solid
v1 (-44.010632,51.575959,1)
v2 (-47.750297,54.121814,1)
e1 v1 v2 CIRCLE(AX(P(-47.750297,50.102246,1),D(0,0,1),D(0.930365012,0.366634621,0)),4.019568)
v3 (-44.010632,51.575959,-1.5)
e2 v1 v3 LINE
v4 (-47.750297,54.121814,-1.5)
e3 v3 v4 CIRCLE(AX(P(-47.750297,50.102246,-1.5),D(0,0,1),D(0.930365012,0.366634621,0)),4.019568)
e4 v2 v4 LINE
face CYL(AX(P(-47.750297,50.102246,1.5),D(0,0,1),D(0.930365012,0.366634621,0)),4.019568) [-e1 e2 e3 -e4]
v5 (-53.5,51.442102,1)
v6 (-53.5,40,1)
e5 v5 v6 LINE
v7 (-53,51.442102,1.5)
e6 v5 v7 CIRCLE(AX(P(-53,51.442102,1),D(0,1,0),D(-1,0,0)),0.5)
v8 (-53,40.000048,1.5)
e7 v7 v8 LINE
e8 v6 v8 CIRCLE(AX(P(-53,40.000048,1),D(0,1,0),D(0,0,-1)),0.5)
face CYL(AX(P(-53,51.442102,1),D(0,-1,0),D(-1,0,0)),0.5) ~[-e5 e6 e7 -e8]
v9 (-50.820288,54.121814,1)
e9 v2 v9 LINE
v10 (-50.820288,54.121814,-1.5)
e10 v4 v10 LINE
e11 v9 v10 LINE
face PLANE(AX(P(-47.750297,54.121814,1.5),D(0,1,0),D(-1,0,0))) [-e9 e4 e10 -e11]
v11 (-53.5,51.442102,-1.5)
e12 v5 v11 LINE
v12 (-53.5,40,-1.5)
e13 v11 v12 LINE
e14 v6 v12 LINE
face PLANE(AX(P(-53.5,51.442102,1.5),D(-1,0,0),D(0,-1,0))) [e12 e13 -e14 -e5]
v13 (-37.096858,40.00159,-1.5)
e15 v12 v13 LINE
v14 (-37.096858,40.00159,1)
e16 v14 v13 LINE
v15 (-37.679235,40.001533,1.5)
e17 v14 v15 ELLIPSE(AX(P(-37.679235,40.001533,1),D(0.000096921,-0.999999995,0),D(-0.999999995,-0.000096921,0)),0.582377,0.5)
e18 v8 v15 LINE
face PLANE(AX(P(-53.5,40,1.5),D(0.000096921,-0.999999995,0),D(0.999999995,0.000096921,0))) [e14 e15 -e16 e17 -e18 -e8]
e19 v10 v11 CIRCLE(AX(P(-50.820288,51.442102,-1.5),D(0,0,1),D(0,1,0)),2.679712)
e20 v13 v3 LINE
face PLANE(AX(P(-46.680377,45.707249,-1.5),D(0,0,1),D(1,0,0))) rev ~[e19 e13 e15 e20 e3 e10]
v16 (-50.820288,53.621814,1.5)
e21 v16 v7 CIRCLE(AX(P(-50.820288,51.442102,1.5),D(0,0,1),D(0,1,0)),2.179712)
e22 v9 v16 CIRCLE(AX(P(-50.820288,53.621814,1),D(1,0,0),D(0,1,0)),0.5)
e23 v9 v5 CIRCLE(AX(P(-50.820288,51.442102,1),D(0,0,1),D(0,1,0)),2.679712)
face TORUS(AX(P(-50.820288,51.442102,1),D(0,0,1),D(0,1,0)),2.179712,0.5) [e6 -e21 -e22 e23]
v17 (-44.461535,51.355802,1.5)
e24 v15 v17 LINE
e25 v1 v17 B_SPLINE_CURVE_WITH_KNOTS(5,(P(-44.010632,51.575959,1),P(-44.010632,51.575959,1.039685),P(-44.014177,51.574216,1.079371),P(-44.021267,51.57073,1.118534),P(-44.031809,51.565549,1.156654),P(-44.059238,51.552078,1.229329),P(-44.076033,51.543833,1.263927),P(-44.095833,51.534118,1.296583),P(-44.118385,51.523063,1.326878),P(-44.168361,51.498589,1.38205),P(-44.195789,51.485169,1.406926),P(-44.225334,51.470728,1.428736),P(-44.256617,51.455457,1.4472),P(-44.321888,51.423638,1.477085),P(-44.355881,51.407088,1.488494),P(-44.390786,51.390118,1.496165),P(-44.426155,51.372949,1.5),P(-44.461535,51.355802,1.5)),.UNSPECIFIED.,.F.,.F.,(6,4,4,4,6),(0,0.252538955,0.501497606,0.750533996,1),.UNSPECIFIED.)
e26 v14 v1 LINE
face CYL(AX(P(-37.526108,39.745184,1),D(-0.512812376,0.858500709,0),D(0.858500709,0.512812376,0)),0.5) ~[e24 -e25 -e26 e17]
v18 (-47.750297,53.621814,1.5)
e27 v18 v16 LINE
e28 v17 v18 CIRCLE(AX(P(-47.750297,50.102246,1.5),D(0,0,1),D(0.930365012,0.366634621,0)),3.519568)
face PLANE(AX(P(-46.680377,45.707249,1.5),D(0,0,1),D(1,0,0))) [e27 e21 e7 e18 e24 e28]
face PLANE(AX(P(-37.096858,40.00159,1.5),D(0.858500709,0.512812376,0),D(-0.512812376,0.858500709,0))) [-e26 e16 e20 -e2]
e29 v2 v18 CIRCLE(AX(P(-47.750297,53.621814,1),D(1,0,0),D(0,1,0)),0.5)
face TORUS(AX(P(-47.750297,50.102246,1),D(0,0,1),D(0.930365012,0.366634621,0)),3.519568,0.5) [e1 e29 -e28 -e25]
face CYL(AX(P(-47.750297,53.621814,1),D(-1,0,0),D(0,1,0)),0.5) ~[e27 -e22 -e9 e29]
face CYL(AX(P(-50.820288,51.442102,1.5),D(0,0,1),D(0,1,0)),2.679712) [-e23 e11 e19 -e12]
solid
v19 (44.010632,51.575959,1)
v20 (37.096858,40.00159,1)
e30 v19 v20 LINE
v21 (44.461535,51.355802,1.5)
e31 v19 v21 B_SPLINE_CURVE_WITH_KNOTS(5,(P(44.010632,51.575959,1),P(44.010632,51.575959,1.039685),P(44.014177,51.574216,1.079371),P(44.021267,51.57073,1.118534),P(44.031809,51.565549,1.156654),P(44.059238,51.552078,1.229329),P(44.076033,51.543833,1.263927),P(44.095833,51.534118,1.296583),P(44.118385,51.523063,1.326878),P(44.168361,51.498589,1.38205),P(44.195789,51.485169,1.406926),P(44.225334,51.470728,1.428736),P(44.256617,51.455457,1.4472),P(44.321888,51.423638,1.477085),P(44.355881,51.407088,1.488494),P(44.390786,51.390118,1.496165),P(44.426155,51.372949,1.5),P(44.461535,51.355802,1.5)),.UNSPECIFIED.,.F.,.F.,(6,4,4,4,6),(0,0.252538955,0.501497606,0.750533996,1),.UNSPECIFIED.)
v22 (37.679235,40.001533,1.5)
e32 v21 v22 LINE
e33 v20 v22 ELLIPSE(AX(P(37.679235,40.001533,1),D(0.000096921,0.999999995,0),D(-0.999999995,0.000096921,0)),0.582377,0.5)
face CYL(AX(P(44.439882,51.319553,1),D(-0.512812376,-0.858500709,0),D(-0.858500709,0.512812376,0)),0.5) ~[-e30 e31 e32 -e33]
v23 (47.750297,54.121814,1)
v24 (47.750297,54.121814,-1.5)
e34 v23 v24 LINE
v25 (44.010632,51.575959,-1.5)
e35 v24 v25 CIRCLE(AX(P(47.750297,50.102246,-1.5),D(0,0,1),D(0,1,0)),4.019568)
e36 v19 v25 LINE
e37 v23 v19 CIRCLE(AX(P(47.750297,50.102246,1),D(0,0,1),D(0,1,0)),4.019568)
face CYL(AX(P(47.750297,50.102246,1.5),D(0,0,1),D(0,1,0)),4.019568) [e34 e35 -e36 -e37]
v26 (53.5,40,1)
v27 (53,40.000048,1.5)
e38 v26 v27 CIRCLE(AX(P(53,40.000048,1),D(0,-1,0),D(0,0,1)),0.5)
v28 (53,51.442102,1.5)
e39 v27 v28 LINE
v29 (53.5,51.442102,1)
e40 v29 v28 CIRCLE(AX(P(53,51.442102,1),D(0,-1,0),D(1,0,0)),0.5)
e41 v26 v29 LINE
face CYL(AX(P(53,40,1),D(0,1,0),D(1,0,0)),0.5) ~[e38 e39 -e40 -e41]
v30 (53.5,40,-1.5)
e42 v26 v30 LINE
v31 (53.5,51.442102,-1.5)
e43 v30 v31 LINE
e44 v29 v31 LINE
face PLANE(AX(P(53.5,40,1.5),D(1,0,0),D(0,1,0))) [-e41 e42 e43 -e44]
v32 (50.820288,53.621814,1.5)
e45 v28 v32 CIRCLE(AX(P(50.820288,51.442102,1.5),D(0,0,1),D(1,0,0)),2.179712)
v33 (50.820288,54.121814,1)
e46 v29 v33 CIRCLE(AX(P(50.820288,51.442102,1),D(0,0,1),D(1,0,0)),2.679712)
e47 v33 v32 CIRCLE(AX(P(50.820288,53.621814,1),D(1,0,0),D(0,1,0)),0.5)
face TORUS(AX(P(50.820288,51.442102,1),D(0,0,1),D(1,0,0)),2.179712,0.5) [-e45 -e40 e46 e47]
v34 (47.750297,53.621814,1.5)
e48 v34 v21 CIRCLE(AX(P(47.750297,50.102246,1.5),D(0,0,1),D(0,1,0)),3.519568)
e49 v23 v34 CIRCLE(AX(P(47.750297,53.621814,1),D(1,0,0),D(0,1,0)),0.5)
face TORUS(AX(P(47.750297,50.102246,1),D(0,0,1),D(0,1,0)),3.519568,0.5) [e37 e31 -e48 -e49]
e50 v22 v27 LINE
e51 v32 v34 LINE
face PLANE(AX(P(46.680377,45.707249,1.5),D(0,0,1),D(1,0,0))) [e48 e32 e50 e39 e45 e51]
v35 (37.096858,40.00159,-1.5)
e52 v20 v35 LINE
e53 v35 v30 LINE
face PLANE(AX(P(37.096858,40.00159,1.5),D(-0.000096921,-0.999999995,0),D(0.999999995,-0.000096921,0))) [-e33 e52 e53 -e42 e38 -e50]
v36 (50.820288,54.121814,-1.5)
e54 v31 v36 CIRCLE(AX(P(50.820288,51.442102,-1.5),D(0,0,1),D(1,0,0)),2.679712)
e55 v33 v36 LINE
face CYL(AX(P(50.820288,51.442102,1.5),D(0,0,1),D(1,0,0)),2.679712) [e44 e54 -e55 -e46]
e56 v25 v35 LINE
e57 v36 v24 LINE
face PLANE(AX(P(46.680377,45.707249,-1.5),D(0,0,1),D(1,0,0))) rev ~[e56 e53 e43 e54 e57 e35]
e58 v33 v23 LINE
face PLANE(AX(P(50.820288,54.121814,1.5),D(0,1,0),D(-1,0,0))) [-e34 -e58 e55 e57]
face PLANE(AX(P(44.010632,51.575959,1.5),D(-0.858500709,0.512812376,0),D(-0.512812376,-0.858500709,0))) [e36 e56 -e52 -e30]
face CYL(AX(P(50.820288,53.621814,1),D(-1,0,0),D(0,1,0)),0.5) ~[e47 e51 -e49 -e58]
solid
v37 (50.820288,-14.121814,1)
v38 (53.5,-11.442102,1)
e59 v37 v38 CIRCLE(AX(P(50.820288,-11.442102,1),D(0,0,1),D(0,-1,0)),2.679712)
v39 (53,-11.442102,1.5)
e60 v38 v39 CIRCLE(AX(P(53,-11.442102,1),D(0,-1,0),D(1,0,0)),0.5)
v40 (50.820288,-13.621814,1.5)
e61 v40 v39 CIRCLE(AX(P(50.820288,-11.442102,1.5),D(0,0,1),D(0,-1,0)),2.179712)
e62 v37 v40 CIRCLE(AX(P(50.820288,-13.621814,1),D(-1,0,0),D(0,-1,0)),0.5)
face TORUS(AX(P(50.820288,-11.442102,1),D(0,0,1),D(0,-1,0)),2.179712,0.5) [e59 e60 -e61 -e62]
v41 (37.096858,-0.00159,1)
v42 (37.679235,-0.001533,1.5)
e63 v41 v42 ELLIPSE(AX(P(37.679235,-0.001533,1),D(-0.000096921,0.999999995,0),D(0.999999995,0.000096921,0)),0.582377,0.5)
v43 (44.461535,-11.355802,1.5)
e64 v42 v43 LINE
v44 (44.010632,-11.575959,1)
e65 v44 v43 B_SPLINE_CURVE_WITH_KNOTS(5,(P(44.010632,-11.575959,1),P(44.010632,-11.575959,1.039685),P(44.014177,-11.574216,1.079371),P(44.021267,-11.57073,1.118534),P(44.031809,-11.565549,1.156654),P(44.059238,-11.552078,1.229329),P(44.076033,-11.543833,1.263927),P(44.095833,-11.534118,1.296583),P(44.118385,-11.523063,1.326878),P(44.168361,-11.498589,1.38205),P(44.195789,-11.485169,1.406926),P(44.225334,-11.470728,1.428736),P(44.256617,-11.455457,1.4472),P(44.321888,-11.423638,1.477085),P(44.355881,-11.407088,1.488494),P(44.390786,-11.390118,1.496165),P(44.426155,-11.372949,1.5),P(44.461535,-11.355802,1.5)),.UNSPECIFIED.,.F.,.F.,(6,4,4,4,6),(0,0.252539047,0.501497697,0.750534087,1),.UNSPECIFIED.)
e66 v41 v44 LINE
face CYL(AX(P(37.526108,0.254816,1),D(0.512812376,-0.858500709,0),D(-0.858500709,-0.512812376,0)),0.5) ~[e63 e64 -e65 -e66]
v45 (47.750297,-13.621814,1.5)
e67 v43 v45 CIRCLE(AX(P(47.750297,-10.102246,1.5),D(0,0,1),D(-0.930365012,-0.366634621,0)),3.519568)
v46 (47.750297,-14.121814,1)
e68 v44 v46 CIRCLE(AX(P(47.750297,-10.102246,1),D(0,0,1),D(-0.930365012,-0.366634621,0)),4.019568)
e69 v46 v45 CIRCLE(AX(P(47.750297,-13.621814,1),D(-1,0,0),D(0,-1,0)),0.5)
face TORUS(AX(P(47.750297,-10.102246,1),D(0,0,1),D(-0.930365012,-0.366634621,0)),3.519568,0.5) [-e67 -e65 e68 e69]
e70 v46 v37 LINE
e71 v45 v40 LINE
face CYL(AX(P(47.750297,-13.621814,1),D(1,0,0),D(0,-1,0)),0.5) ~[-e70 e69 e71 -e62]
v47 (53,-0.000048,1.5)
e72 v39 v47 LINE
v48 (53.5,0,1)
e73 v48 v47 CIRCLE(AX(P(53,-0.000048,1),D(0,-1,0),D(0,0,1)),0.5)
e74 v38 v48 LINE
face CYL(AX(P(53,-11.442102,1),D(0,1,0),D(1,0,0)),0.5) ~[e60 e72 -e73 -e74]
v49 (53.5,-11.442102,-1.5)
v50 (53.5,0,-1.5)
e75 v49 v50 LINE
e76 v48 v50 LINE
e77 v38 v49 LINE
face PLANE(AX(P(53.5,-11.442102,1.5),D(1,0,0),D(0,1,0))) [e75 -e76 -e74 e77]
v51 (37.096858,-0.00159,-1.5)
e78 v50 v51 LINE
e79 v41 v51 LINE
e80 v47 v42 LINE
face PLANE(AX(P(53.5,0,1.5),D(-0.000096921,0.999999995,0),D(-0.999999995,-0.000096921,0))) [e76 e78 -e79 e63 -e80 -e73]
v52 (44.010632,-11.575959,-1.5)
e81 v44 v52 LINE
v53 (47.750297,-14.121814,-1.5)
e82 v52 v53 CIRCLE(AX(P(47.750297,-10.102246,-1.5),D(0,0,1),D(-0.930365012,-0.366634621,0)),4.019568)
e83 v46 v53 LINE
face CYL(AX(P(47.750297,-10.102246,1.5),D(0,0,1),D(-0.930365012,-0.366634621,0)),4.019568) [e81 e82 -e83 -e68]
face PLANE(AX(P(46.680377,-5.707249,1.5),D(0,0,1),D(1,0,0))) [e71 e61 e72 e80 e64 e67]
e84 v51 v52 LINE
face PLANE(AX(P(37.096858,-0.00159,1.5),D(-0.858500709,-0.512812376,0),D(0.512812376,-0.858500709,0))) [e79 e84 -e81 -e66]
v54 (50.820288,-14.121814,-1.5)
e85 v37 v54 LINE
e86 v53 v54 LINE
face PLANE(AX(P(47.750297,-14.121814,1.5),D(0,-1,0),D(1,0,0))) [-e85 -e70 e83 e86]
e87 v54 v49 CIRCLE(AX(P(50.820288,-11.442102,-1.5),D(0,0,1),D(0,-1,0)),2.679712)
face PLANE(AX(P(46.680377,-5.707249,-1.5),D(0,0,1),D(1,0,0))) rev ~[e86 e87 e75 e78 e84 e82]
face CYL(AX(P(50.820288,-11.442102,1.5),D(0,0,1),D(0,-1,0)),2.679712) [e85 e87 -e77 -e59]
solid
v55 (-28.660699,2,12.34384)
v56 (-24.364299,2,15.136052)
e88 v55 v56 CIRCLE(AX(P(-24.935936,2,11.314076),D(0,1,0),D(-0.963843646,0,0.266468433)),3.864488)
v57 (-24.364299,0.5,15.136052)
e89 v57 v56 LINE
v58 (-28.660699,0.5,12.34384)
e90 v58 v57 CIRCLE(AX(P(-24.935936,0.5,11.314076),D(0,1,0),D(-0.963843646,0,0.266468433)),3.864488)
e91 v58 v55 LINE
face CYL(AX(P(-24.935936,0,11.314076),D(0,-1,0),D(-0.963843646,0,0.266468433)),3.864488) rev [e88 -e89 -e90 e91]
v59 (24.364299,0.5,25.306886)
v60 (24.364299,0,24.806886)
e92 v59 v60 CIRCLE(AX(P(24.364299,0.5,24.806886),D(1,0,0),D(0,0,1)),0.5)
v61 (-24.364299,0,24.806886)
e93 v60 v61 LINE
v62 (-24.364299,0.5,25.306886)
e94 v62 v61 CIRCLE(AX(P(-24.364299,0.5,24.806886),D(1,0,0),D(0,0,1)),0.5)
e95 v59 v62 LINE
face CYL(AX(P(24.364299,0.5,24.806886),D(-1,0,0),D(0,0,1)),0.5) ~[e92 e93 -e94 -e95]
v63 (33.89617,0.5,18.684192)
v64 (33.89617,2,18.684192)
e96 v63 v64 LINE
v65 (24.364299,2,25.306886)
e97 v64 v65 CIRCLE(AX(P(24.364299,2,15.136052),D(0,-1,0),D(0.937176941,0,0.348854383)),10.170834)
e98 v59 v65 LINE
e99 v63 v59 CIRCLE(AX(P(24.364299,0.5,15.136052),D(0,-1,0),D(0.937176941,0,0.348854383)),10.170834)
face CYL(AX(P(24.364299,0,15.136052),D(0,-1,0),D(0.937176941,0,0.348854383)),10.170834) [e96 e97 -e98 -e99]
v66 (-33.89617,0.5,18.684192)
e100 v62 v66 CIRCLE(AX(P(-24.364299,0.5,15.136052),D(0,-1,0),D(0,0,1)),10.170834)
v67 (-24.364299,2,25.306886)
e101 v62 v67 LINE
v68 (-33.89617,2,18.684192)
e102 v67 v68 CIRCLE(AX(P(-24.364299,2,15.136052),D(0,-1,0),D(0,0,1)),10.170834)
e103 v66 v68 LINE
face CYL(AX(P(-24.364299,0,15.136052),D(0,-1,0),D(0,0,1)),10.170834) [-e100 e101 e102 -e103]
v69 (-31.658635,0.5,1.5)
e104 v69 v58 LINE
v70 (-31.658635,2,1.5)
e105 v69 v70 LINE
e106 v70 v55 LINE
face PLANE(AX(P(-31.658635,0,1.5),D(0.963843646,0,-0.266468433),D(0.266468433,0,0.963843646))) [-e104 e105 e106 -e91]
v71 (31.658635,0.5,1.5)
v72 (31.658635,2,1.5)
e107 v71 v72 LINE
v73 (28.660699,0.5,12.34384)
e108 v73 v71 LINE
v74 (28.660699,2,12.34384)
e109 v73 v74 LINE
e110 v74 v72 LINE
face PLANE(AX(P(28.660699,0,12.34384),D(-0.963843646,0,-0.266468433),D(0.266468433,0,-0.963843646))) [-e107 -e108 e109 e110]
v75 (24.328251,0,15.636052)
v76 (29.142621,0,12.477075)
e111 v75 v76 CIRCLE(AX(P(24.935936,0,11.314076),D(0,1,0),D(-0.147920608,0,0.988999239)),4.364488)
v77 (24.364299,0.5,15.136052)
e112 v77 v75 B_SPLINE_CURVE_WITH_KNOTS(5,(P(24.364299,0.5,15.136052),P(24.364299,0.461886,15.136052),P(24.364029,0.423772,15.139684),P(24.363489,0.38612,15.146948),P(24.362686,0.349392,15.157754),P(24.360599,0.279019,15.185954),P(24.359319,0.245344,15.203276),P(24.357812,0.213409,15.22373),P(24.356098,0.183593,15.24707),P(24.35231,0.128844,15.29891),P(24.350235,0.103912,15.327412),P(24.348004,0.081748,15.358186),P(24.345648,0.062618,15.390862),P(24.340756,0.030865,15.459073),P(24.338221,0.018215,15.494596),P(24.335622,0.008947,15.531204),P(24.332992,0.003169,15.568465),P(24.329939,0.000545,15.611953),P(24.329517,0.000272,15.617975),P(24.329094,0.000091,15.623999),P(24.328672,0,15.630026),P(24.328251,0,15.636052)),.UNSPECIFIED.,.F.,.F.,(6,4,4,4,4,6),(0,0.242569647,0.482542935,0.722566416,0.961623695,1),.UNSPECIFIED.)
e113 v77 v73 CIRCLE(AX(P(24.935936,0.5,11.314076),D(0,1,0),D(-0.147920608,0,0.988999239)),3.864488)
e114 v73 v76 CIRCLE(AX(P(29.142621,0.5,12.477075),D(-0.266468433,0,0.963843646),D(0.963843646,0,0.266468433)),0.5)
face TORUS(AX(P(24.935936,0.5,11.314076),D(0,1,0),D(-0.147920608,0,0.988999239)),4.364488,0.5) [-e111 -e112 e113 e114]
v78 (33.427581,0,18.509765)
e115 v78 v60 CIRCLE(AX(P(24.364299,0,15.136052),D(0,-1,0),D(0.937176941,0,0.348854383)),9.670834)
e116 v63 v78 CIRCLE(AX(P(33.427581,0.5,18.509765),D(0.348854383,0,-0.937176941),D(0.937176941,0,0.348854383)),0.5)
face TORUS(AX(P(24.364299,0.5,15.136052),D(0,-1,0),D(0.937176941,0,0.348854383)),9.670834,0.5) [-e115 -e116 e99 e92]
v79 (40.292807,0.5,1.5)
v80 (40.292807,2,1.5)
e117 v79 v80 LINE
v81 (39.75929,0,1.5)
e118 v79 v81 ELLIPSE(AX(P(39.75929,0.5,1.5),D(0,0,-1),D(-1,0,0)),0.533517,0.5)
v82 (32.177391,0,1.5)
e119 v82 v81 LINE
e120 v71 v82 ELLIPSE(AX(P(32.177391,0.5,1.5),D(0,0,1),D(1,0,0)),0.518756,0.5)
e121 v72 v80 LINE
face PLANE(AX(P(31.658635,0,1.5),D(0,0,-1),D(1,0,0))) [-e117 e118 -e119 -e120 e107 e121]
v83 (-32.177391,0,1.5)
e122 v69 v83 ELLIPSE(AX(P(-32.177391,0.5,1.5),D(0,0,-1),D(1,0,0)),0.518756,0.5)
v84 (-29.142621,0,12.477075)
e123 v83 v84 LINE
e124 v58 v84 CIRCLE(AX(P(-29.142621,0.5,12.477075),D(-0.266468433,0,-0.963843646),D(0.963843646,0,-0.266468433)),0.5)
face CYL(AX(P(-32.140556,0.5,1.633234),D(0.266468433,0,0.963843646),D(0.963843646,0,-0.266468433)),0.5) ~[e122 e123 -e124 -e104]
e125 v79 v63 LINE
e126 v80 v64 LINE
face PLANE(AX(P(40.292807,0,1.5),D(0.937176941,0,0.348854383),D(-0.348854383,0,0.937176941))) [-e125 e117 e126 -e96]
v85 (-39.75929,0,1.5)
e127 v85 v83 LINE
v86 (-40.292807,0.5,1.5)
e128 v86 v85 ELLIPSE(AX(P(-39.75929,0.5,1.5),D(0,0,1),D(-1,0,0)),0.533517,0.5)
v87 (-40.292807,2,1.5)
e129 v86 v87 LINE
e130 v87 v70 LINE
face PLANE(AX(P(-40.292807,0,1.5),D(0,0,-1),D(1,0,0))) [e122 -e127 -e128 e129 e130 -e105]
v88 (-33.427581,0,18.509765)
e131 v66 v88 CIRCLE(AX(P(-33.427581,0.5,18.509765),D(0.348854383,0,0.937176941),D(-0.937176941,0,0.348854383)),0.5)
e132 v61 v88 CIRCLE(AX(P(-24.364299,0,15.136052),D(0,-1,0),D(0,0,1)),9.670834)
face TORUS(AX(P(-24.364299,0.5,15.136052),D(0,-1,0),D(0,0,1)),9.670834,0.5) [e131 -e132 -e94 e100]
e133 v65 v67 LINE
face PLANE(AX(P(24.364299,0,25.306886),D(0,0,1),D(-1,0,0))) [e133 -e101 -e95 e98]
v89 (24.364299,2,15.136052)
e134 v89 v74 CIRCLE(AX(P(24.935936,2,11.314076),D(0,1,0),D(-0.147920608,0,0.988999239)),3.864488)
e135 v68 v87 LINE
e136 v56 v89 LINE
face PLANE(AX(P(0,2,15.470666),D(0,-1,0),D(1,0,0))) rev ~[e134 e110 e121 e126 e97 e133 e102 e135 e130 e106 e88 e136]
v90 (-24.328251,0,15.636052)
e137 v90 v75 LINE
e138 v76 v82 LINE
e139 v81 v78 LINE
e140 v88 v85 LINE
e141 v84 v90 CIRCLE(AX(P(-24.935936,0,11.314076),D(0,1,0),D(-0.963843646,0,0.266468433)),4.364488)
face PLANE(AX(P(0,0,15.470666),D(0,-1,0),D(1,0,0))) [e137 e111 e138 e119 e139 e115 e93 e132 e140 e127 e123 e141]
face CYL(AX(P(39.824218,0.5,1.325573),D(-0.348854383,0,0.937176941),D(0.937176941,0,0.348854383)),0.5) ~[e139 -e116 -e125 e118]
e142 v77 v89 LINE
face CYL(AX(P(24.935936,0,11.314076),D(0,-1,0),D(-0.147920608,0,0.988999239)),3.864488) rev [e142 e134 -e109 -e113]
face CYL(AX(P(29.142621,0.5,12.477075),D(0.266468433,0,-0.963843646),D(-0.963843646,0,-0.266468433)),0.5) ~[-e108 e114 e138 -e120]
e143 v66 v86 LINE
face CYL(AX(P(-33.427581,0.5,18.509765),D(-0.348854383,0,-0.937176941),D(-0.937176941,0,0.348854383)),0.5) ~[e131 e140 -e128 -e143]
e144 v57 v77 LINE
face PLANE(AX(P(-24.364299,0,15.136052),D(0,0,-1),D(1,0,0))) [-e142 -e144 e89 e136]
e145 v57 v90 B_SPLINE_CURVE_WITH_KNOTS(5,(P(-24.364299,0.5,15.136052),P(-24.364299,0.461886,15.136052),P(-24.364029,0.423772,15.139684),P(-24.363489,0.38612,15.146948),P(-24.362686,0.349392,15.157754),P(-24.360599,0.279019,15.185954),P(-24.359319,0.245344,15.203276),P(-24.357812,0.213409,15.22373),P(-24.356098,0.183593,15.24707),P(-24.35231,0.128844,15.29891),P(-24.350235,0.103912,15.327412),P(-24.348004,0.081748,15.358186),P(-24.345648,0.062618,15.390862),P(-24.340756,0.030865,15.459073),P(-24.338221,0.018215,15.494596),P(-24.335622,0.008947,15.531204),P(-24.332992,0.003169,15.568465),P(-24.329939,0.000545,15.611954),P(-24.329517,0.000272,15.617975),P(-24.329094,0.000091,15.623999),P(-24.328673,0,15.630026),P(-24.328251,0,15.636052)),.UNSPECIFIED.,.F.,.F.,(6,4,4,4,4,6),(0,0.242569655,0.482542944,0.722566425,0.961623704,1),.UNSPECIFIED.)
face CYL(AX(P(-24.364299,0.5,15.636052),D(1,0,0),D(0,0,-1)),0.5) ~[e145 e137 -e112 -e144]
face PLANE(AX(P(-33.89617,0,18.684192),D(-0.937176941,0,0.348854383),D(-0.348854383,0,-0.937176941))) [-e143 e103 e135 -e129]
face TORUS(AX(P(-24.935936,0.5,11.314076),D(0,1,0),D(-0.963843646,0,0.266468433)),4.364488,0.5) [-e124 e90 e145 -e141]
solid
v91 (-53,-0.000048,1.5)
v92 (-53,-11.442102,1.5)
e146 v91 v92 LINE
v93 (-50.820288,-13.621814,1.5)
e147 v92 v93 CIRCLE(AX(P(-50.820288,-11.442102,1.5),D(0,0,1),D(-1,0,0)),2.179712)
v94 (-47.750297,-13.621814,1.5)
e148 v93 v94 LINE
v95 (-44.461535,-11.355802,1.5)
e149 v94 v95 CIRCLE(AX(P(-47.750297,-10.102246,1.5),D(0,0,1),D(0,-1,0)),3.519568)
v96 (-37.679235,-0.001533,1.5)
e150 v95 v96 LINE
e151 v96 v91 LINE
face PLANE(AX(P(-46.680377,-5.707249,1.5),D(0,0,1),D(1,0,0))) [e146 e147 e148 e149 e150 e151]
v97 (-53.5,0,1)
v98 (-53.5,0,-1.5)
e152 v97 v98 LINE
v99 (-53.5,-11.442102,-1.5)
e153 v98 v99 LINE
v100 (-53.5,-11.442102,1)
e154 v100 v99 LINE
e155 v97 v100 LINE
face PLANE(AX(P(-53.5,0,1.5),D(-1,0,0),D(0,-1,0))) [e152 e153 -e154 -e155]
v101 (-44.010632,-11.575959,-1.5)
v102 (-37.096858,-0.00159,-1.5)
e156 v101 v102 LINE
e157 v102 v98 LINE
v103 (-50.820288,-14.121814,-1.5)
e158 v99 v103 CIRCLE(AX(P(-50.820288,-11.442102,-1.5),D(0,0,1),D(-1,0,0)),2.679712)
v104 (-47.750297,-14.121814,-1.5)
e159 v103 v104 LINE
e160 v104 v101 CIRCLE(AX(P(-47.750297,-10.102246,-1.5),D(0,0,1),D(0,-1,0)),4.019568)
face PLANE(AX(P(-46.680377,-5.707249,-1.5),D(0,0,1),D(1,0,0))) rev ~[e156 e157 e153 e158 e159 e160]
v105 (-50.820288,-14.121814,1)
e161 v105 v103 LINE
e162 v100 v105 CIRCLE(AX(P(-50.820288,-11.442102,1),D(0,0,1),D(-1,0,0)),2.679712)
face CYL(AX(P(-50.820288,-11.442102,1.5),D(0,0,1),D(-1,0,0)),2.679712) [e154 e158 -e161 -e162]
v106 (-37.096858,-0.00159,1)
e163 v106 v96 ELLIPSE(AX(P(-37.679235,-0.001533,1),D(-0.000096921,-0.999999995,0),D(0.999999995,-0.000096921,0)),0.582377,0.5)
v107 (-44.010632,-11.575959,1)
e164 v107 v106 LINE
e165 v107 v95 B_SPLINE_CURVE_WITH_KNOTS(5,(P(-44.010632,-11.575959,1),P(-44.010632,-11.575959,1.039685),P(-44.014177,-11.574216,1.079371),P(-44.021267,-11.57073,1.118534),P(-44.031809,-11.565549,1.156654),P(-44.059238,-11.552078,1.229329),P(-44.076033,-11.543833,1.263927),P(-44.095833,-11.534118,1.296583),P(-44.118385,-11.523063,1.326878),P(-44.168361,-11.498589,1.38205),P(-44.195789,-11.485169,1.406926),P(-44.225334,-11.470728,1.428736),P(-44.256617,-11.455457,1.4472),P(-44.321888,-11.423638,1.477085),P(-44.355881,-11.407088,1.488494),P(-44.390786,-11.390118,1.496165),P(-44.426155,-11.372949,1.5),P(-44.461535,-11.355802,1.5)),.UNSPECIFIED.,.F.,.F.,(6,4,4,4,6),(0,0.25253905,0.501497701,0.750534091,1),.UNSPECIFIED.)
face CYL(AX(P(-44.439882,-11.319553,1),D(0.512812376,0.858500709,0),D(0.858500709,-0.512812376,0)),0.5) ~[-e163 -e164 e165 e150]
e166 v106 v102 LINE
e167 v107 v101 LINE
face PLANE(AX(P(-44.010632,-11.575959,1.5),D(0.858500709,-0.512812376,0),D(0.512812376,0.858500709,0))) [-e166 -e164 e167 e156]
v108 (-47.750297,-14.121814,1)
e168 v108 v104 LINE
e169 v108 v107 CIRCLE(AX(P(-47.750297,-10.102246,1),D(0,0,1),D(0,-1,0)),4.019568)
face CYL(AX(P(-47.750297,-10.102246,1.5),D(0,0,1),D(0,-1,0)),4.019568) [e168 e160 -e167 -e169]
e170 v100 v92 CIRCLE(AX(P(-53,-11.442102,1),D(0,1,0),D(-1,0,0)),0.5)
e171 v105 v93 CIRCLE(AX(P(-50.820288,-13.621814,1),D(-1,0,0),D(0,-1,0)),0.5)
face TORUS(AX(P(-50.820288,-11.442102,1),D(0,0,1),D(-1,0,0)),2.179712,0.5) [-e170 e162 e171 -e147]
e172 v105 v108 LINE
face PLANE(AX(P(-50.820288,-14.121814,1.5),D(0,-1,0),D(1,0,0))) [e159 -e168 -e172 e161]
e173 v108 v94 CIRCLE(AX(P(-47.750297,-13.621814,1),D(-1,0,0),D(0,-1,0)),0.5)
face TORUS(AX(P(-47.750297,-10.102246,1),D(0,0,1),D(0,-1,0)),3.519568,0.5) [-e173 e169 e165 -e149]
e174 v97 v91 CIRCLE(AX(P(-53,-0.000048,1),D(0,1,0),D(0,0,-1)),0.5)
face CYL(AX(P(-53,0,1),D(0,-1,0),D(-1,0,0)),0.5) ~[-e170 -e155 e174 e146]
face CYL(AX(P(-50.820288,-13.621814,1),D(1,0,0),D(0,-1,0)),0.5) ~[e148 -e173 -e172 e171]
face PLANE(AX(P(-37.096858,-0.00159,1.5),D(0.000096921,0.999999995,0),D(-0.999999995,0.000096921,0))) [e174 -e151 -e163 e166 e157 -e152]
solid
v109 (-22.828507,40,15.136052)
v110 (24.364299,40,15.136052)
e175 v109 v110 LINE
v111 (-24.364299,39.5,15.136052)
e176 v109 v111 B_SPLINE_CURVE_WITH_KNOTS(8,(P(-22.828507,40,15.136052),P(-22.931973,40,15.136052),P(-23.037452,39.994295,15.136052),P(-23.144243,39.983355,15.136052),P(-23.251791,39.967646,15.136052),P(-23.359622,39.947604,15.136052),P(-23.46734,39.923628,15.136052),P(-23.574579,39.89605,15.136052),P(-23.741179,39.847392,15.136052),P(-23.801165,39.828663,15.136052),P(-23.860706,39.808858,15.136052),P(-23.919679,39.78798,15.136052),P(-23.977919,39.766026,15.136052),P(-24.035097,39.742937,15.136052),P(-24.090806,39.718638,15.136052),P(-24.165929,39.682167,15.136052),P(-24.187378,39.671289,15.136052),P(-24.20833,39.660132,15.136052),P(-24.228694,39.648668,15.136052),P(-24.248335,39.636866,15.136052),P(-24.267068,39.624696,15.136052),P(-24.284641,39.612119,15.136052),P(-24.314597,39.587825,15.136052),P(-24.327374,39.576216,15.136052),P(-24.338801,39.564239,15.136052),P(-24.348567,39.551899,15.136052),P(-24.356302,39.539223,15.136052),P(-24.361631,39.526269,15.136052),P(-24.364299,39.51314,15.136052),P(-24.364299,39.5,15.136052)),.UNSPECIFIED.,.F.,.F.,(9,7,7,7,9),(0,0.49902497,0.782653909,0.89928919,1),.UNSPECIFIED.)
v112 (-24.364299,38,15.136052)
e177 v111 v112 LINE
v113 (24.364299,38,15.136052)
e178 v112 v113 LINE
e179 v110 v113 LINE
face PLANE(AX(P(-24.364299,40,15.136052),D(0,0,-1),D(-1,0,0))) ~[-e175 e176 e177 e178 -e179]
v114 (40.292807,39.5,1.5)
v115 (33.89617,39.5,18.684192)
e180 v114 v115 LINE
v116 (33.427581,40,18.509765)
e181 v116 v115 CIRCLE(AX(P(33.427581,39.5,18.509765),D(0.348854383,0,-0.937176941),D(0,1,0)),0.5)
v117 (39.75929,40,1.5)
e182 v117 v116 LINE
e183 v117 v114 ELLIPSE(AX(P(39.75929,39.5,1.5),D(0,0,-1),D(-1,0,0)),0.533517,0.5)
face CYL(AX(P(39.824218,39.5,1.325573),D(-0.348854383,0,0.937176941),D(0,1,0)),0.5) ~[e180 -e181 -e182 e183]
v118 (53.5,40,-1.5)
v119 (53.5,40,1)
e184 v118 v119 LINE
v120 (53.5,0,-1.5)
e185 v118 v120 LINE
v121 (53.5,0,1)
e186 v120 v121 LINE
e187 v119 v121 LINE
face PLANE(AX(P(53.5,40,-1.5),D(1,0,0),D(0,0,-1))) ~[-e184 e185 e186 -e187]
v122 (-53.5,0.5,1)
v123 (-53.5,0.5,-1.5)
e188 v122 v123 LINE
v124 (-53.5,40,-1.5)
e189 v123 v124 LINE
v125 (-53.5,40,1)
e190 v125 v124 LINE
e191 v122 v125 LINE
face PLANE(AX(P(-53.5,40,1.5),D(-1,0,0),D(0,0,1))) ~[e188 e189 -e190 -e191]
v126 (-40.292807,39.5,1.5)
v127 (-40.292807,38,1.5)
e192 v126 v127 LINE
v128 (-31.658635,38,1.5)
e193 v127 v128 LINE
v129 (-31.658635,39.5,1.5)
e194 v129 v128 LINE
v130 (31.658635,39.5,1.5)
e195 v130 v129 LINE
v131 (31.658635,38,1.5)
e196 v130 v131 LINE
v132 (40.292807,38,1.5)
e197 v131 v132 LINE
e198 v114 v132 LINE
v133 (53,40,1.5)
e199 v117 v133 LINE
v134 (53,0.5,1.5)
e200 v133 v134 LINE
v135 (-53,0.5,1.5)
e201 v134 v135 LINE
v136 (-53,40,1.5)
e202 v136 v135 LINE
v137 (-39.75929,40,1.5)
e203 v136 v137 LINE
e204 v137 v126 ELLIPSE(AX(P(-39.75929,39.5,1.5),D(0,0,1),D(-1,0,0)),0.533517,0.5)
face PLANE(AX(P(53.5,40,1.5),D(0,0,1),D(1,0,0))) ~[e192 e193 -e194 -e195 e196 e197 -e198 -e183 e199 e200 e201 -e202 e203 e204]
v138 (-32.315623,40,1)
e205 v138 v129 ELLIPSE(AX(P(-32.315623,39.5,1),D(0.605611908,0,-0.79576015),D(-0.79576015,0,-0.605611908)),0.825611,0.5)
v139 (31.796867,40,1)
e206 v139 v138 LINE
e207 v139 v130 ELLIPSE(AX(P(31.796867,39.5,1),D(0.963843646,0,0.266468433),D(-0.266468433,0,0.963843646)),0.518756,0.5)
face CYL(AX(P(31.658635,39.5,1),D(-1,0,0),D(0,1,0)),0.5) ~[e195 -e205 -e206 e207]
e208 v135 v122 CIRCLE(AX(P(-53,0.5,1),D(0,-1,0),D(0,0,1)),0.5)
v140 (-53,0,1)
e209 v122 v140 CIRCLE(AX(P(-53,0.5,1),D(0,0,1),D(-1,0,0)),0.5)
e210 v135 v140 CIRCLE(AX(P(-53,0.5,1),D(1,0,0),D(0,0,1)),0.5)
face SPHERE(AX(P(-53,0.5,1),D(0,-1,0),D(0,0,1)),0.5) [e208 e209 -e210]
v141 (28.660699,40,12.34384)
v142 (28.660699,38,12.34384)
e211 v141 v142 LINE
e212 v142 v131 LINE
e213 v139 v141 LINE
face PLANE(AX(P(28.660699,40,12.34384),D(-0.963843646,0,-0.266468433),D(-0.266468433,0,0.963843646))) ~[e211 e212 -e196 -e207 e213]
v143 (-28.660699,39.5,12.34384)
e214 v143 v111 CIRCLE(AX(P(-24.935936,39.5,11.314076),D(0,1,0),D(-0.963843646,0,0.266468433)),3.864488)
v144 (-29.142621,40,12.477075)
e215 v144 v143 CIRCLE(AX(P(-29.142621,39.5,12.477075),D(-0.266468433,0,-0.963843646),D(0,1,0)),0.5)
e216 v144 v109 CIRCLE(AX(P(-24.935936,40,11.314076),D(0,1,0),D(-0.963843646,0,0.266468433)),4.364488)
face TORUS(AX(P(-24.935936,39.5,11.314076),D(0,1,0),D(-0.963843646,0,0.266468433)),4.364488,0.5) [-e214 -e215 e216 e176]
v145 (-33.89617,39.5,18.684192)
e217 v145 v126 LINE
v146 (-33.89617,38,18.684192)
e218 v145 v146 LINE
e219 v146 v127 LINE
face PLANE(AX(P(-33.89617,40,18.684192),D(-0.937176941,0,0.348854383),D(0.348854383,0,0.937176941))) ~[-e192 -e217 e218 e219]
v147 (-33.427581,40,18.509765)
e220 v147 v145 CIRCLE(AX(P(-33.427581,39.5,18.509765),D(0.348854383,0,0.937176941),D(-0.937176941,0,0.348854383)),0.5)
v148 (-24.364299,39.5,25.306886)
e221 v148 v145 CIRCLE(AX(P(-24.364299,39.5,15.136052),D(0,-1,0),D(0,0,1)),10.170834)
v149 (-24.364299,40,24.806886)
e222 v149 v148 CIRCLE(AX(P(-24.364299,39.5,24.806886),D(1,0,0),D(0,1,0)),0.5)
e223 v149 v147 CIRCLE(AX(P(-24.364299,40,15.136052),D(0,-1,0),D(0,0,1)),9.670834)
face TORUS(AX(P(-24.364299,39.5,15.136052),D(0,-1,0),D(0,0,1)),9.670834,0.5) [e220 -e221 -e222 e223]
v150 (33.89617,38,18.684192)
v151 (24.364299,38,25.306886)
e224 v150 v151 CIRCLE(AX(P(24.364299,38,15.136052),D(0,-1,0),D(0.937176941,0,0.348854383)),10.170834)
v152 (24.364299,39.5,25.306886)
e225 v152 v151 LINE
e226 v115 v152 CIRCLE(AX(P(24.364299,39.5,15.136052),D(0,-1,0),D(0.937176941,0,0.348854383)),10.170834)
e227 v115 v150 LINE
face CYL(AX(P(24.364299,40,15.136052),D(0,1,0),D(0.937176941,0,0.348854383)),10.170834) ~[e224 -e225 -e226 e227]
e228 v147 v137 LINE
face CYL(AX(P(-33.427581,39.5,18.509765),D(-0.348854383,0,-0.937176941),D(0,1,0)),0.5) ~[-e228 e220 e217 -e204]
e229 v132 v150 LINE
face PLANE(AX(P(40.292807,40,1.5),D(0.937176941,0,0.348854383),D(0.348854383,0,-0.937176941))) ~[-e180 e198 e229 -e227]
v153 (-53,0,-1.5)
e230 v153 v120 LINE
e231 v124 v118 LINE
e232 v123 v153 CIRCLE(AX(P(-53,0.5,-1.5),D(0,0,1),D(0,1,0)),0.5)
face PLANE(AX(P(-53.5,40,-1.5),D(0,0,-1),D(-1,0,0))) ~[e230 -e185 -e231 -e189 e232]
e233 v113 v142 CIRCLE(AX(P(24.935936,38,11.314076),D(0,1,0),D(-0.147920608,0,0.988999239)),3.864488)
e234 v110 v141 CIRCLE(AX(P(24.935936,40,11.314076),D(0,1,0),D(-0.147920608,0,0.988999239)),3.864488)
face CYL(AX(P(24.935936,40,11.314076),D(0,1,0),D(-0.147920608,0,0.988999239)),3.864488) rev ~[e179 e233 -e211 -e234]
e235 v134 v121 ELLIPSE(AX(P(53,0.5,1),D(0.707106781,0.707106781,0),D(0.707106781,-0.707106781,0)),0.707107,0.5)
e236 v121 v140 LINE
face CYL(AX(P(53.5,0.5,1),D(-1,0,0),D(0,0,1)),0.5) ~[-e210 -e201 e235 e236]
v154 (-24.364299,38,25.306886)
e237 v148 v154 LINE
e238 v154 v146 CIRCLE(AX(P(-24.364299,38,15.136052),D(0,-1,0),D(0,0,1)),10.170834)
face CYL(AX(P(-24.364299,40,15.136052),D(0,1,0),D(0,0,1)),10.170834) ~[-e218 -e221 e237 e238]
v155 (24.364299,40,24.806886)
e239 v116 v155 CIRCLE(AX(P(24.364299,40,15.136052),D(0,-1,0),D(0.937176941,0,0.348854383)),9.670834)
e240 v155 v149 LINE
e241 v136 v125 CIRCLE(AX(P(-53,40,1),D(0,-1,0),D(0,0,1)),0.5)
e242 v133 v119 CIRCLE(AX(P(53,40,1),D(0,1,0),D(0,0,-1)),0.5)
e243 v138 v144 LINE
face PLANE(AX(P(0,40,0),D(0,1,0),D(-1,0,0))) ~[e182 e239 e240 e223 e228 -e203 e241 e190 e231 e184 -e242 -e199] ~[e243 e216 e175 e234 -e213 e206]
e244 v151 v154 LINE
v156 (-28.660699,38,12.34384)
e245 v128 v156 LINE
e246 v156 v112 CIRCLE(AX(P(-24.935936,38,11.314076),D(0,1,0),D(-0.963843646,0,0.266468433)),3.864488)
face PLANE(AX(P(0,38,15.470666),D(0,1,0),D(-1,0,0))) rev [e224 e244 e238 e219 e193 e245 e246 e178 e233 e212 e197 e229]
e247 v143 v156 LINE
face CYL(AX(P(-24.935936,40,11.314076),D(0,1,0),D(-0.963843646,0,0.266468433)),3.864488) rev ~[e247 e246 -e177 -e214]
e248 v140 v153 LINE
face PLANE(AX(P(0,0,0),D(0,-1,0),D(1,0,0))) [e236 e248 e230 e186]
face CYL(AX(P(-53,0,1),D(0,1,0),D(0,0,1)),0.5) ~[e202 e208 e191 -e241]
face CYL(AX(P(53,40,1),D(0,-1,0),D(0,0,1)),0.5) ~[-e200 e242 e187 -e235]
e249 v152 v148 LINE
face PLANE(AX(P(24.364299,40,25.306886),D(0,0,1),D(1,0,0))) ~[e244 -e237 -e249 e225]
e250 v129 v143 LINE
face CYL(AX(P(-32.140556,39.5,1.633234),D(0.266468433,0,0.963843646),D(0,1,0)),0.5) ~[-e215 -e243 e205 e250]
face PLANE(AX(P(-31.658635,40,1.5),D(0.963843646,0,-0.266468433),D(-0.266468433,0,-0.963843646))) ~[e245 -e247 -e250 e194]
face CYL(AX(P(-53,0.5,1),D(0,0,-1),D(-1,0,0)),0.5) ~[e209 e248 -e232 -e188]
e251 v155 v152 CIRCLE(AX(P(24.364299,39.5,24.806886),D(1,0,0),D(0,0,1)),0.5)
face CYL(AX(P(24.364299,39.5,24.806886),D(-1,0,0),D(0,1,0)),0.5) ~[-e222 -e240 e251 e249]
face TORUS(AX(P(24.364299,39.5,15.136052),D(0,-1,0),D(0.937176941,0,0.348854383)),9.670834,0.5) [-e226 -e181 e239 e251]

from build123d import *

# Parameters (mm, degrees)
F1_DEPTH = 2
F2_DEPTH = 20
F5_DEPTH = 3
F6_R     = 0.5
F6_2_R   = 0.5
F7_R     = 0.5
F7_2_R   = 0.5
F7_3_R   = 0.5
F7_4_R   = 0.5
F7_5_R   = 0.5
F9_DEPTH = 0.1


with BuildPart() as f1:
    # F0 (on Front) → F1 (new body)
    with BuildSketch(Plane.XZ):
        with BuildLine():
            Line((31.6586345434, 1.5), (40.2928069234, 1.5))
            Line((40.2928069234, 1.5), (33.8961698165, 18.6841922669))
            ThreePointArc((33.8961698165, 18.6841922669), (30.1676737383, 23.4886986324), (24.3642989581, 25.3068860765))
            Line((24.3642989581, 25.3068860765), (0, 25.3068860765))
            Line((0, 25.3068860765), (-24.3642989581, 25.3068860765))
            ThreePointArc((-24.3642989581, 25.3068860765), (-30.1676737383, 23.4886986324), (-33.8961698165, 18.6841922669))
            Line((-33.8961698165, 18.6841922669), (-40.2928069234, 1.5))
            Line((-40.2928069234, 1.5), (-31.6586345434, 1.5))
            Line((-31.6586345434, 1.5), (-28.6606989536, 12.3438404575))
            ThreePointArc((-28.6606989536, 12.3438404575), (-27.0417999529, 14.5543863096), (-24.3642989581, 15.136052332))
            Line((-24.3642989581, 15.136052332), (0, 15.136052332))
            Line((0, 15.136052332), (24.3642989581, 15.136052332))
            ThreePointArc((24.3642989581, 15.136052332), (27.0417999529, 14.5543863096), (28.6606989536, 12.3438404575))
            Line((28.6606989536, 12.3438404575), (31.6586345434, 1.5))
        make_face()
    extrude(amount=-F1_DEPTH)


with BuildPart() as f2:
    # F0 (on Front) → F2 (new body)
    with BuildSketch(Plane.XZ):
        Polygon((-53.5, -1.5), (53.5, -1.5), (53.5, 1.5), (40.2928069234, 1.5), (31.6586345434, 1.5), (-31.6586345434, 1.5), (-40.2928069234, 1.5), (-53.5, 1.5), align=None)
    extrude(amount=-F2_DEPTH)



with BuildPart() as f2_1:
    add(f2.part)
    # F3: F1, F2 across face
    add(f1.part.mirror(Plane(origin=(0, 20, 0), x_dir=(1, 0, 0), z_dir=(0, 1, 0))))
    add(f2.part.mirror(Plane(origin=(0, 20, 0), x_dir=(1, 0, 0), z_dir=(0, 1, 0))))

    # F6#2
    f6_2_edges = [f2_1.edges().sort_by_distance(p)[0] for p in [
        (-53.5, 20, 1.5),
    ]]
    fillet(f6_2_edges, radius=F6_2_R)

    # F7#2
    f7_2_edges = [f2_1.edges().sort_by_distance(p)[0] for p in [
        (0, 40, 1.5),
        (-30.159667, 40, 6.92192),
        (-37.094488, 40, 10.092096),
        (53.5, 20, 1.5),
        (0.25, 0, 1.5),
    ]]
    fillet(f7_2_edges, radius=F7_2_R)

    # F8 (on face) → F9 (join)
    with BuildSketch(Plane.XY.offset(1.5)):
        Polygon((-53, 31.7278392613), (-53, 20.25), (-53, 8.7876711041), (53, 8.7876711041), (53, 31.7278392613), align=None)
    extrude(amount=-F9_DEPTH)


with BuildPart() as f5:
    # F4 (on face) → F5 (new body)
    with BuildSketch(Plane.XY.offset(1.5)):
        with BuildLine():
            Line((-53.5, 51.4421015978), (-53.5, 40))
            Line((-53.5, 40.0000000001), (-37.0968580246, 40.001589805))
            Line((-37.0968580246, 40.0015898049), (-44.0106317401, 51.5759587288))
            ThreePointArc((-44.0106317401, 51.5759587288), (-45.4883027253, 53.4249418645), (-47.7502972833, 54.1218140166))
            Line((-47.7502972833, 54.1218140166), (-50.8202875812, 54.1218140166))
            ThreePointArc((-50.8202875812, 54.1218140166), (-52.7151304042, 53.3369444208), (-53.5, 51.4421015978))
        make_face()
    extrude(amount=-F5_DEPTH)

    # F7
    f7_edges = [f5.edges().sort_by_distance(p)[0] for p in [
        (-53.5, 45.721051, 1.5),
        (-52.71513, 53.336944, 1.5),
        (-49.285292, 54.121814, 1.5),
        (-45.488303, 53.424942, 1.5),
        (-40.553745, 45.788774, 1.5),
    ]]
    fillet(f7_edges, radius=F7_R)


with BuildPart() as f5b:
    # F4 (on face) → F5, piece 2 (new body)
    with BuildSketch(Plane.XY.offset(1.5)):
        with BuildLine():
            Line((37.0968580246, 40.001589805), (53.5, 40.0000000001))
            Line((53.5, 40), (53.5, 51.4421015978))
            ThreePointArc((53.5, 51.4421015978), (52.7151304042, 53.3369444208), (50.8202875812, 54.1218140166))
            Line((50.8202875812, 54.1218140166), (47.7502972833, 54.1218140166))
            ThreePointArc((47.7502972833, 54.1218140166), (45.4883027253, 53.4249418645), (44.0106317401, 51.5759587288))
            Line((44.0106317401, 51.5759587288), (37.0968580246, 40.0015898049))
        make_face()
    extrude(amount=-F5_DEPTH)

    # F7#3
    f7_3_edges = [f5b.edges().sort_by_distance(p)[0] for p in [
        (53.5, 45.721051, 1.5),
        (52.71513, 53.336944, 1.5),
        (49.285292, 54.121814, 1.5),
        (45.488303, 53.424942, 1.5),
        (40.553745, 45.788774, 1.5),
    ]]
    fillet(f7_3_edges, radius=F7_3_R)


with BuildPart() as f5c:
    # F4 (on face) → F5, piece 3 (new body)
    with BuildSketch(Plane.XY.offset(1.5)):
        with BuildLine():
            Line((53.5, -11.4421015978), (53.5, 0))
            Line((53.5, 0), (37.0968580246, -0.0015898049))
            Line((37.0968580246, -0.0015898049), (44.0106317401, -11.5759587288))
            ThreePointArc((44.0106317401, -11.5759587288), (45.4883027253, -13.4249418645), (47.7502972833, -14.1218140166))
            Line((47.7502972833, -14.1218140166), (50.8202875812, -14.1218140166))
            ThreePointArc((50.8202875812, -14.1218140166), (52.7151304042, -13.3369444208), (53.5, -11.4421015978))
        make_face()
    extrude(amount=-F5_DEPTH)

    # F7#4
    f7_4_edges = [f5c.edges().sort_by_distance(p)[0] for p in [
        (53.5, -5.721051, 1.5),
        (40.553745, -5.788774, 1.5),
    ]]
    fillet(f7_4_edges, radius=F7_4_R)


with BuildPart() as f5d:
    # F4 (on face) → F5, piece 4 (new body)
    with BuildSketch(Plane.XY.offset(1.5)):
        with BuildLine():
            Line((-37.0968580246, -0.0015898049), (-53.5, 0))
            Line((-53.5, 0), (-53.5, -11.4421015978))
            ThreePointArc((-53.5, -11.4421015978), (-52.7151304042, -13.3369444208), (-50.8202875812, -14.1218140166))
            Line((-50.8202875812, -14.1218140166), (-47.7502972833, -14.1218140166))
            ThreePointArc((-47.7502972833, -14.1218140166), (-45.4883027253, -13.4249418645), (-44.0106317401, -11.5759587288))
            Line((-44.0106317401, -11.5759587288), (-37.0968580246, -0.0015898049))
        make_face()
    extrude(amount=-F5_DEPTH)

    # F6
    f6_edges = [f5d.edges().sort_by_distance(p)[0] for p in [
        (-40.553745, -5.788774, 1.5),
        (-45.488303, -13.424942, 1.5),
        (-49.285292, -14.121814, 1.5),
        (-52.71513, -13.336944, 1.5),
        (-53.5, -5.721051, 1.5),
    ]]
    fillet(f6_edges, radius=F6_R)


with BuildPart() as f1_1:
    add(f1.part)

    # F7#5
    f7_5_edges = [f1_1.edges().sort_by_distance(p)[0] for p in [
        (37.094488, 0, 10.092096),
        (30.159667, 0, 6.92192),
        (27.0418, 0, 14.554386),
        (0, 0, 15.136052),
        (-30.159667, 0, 6.92192),
        (-27.0418, 0, 14.554386),
    ]]
    fillet(f7_5_edges, radius=F7_5_R)


solid = Compound([f2_1.part, f5.part, f5b.part, f5c.part, f5d.part, f1_1.part])
